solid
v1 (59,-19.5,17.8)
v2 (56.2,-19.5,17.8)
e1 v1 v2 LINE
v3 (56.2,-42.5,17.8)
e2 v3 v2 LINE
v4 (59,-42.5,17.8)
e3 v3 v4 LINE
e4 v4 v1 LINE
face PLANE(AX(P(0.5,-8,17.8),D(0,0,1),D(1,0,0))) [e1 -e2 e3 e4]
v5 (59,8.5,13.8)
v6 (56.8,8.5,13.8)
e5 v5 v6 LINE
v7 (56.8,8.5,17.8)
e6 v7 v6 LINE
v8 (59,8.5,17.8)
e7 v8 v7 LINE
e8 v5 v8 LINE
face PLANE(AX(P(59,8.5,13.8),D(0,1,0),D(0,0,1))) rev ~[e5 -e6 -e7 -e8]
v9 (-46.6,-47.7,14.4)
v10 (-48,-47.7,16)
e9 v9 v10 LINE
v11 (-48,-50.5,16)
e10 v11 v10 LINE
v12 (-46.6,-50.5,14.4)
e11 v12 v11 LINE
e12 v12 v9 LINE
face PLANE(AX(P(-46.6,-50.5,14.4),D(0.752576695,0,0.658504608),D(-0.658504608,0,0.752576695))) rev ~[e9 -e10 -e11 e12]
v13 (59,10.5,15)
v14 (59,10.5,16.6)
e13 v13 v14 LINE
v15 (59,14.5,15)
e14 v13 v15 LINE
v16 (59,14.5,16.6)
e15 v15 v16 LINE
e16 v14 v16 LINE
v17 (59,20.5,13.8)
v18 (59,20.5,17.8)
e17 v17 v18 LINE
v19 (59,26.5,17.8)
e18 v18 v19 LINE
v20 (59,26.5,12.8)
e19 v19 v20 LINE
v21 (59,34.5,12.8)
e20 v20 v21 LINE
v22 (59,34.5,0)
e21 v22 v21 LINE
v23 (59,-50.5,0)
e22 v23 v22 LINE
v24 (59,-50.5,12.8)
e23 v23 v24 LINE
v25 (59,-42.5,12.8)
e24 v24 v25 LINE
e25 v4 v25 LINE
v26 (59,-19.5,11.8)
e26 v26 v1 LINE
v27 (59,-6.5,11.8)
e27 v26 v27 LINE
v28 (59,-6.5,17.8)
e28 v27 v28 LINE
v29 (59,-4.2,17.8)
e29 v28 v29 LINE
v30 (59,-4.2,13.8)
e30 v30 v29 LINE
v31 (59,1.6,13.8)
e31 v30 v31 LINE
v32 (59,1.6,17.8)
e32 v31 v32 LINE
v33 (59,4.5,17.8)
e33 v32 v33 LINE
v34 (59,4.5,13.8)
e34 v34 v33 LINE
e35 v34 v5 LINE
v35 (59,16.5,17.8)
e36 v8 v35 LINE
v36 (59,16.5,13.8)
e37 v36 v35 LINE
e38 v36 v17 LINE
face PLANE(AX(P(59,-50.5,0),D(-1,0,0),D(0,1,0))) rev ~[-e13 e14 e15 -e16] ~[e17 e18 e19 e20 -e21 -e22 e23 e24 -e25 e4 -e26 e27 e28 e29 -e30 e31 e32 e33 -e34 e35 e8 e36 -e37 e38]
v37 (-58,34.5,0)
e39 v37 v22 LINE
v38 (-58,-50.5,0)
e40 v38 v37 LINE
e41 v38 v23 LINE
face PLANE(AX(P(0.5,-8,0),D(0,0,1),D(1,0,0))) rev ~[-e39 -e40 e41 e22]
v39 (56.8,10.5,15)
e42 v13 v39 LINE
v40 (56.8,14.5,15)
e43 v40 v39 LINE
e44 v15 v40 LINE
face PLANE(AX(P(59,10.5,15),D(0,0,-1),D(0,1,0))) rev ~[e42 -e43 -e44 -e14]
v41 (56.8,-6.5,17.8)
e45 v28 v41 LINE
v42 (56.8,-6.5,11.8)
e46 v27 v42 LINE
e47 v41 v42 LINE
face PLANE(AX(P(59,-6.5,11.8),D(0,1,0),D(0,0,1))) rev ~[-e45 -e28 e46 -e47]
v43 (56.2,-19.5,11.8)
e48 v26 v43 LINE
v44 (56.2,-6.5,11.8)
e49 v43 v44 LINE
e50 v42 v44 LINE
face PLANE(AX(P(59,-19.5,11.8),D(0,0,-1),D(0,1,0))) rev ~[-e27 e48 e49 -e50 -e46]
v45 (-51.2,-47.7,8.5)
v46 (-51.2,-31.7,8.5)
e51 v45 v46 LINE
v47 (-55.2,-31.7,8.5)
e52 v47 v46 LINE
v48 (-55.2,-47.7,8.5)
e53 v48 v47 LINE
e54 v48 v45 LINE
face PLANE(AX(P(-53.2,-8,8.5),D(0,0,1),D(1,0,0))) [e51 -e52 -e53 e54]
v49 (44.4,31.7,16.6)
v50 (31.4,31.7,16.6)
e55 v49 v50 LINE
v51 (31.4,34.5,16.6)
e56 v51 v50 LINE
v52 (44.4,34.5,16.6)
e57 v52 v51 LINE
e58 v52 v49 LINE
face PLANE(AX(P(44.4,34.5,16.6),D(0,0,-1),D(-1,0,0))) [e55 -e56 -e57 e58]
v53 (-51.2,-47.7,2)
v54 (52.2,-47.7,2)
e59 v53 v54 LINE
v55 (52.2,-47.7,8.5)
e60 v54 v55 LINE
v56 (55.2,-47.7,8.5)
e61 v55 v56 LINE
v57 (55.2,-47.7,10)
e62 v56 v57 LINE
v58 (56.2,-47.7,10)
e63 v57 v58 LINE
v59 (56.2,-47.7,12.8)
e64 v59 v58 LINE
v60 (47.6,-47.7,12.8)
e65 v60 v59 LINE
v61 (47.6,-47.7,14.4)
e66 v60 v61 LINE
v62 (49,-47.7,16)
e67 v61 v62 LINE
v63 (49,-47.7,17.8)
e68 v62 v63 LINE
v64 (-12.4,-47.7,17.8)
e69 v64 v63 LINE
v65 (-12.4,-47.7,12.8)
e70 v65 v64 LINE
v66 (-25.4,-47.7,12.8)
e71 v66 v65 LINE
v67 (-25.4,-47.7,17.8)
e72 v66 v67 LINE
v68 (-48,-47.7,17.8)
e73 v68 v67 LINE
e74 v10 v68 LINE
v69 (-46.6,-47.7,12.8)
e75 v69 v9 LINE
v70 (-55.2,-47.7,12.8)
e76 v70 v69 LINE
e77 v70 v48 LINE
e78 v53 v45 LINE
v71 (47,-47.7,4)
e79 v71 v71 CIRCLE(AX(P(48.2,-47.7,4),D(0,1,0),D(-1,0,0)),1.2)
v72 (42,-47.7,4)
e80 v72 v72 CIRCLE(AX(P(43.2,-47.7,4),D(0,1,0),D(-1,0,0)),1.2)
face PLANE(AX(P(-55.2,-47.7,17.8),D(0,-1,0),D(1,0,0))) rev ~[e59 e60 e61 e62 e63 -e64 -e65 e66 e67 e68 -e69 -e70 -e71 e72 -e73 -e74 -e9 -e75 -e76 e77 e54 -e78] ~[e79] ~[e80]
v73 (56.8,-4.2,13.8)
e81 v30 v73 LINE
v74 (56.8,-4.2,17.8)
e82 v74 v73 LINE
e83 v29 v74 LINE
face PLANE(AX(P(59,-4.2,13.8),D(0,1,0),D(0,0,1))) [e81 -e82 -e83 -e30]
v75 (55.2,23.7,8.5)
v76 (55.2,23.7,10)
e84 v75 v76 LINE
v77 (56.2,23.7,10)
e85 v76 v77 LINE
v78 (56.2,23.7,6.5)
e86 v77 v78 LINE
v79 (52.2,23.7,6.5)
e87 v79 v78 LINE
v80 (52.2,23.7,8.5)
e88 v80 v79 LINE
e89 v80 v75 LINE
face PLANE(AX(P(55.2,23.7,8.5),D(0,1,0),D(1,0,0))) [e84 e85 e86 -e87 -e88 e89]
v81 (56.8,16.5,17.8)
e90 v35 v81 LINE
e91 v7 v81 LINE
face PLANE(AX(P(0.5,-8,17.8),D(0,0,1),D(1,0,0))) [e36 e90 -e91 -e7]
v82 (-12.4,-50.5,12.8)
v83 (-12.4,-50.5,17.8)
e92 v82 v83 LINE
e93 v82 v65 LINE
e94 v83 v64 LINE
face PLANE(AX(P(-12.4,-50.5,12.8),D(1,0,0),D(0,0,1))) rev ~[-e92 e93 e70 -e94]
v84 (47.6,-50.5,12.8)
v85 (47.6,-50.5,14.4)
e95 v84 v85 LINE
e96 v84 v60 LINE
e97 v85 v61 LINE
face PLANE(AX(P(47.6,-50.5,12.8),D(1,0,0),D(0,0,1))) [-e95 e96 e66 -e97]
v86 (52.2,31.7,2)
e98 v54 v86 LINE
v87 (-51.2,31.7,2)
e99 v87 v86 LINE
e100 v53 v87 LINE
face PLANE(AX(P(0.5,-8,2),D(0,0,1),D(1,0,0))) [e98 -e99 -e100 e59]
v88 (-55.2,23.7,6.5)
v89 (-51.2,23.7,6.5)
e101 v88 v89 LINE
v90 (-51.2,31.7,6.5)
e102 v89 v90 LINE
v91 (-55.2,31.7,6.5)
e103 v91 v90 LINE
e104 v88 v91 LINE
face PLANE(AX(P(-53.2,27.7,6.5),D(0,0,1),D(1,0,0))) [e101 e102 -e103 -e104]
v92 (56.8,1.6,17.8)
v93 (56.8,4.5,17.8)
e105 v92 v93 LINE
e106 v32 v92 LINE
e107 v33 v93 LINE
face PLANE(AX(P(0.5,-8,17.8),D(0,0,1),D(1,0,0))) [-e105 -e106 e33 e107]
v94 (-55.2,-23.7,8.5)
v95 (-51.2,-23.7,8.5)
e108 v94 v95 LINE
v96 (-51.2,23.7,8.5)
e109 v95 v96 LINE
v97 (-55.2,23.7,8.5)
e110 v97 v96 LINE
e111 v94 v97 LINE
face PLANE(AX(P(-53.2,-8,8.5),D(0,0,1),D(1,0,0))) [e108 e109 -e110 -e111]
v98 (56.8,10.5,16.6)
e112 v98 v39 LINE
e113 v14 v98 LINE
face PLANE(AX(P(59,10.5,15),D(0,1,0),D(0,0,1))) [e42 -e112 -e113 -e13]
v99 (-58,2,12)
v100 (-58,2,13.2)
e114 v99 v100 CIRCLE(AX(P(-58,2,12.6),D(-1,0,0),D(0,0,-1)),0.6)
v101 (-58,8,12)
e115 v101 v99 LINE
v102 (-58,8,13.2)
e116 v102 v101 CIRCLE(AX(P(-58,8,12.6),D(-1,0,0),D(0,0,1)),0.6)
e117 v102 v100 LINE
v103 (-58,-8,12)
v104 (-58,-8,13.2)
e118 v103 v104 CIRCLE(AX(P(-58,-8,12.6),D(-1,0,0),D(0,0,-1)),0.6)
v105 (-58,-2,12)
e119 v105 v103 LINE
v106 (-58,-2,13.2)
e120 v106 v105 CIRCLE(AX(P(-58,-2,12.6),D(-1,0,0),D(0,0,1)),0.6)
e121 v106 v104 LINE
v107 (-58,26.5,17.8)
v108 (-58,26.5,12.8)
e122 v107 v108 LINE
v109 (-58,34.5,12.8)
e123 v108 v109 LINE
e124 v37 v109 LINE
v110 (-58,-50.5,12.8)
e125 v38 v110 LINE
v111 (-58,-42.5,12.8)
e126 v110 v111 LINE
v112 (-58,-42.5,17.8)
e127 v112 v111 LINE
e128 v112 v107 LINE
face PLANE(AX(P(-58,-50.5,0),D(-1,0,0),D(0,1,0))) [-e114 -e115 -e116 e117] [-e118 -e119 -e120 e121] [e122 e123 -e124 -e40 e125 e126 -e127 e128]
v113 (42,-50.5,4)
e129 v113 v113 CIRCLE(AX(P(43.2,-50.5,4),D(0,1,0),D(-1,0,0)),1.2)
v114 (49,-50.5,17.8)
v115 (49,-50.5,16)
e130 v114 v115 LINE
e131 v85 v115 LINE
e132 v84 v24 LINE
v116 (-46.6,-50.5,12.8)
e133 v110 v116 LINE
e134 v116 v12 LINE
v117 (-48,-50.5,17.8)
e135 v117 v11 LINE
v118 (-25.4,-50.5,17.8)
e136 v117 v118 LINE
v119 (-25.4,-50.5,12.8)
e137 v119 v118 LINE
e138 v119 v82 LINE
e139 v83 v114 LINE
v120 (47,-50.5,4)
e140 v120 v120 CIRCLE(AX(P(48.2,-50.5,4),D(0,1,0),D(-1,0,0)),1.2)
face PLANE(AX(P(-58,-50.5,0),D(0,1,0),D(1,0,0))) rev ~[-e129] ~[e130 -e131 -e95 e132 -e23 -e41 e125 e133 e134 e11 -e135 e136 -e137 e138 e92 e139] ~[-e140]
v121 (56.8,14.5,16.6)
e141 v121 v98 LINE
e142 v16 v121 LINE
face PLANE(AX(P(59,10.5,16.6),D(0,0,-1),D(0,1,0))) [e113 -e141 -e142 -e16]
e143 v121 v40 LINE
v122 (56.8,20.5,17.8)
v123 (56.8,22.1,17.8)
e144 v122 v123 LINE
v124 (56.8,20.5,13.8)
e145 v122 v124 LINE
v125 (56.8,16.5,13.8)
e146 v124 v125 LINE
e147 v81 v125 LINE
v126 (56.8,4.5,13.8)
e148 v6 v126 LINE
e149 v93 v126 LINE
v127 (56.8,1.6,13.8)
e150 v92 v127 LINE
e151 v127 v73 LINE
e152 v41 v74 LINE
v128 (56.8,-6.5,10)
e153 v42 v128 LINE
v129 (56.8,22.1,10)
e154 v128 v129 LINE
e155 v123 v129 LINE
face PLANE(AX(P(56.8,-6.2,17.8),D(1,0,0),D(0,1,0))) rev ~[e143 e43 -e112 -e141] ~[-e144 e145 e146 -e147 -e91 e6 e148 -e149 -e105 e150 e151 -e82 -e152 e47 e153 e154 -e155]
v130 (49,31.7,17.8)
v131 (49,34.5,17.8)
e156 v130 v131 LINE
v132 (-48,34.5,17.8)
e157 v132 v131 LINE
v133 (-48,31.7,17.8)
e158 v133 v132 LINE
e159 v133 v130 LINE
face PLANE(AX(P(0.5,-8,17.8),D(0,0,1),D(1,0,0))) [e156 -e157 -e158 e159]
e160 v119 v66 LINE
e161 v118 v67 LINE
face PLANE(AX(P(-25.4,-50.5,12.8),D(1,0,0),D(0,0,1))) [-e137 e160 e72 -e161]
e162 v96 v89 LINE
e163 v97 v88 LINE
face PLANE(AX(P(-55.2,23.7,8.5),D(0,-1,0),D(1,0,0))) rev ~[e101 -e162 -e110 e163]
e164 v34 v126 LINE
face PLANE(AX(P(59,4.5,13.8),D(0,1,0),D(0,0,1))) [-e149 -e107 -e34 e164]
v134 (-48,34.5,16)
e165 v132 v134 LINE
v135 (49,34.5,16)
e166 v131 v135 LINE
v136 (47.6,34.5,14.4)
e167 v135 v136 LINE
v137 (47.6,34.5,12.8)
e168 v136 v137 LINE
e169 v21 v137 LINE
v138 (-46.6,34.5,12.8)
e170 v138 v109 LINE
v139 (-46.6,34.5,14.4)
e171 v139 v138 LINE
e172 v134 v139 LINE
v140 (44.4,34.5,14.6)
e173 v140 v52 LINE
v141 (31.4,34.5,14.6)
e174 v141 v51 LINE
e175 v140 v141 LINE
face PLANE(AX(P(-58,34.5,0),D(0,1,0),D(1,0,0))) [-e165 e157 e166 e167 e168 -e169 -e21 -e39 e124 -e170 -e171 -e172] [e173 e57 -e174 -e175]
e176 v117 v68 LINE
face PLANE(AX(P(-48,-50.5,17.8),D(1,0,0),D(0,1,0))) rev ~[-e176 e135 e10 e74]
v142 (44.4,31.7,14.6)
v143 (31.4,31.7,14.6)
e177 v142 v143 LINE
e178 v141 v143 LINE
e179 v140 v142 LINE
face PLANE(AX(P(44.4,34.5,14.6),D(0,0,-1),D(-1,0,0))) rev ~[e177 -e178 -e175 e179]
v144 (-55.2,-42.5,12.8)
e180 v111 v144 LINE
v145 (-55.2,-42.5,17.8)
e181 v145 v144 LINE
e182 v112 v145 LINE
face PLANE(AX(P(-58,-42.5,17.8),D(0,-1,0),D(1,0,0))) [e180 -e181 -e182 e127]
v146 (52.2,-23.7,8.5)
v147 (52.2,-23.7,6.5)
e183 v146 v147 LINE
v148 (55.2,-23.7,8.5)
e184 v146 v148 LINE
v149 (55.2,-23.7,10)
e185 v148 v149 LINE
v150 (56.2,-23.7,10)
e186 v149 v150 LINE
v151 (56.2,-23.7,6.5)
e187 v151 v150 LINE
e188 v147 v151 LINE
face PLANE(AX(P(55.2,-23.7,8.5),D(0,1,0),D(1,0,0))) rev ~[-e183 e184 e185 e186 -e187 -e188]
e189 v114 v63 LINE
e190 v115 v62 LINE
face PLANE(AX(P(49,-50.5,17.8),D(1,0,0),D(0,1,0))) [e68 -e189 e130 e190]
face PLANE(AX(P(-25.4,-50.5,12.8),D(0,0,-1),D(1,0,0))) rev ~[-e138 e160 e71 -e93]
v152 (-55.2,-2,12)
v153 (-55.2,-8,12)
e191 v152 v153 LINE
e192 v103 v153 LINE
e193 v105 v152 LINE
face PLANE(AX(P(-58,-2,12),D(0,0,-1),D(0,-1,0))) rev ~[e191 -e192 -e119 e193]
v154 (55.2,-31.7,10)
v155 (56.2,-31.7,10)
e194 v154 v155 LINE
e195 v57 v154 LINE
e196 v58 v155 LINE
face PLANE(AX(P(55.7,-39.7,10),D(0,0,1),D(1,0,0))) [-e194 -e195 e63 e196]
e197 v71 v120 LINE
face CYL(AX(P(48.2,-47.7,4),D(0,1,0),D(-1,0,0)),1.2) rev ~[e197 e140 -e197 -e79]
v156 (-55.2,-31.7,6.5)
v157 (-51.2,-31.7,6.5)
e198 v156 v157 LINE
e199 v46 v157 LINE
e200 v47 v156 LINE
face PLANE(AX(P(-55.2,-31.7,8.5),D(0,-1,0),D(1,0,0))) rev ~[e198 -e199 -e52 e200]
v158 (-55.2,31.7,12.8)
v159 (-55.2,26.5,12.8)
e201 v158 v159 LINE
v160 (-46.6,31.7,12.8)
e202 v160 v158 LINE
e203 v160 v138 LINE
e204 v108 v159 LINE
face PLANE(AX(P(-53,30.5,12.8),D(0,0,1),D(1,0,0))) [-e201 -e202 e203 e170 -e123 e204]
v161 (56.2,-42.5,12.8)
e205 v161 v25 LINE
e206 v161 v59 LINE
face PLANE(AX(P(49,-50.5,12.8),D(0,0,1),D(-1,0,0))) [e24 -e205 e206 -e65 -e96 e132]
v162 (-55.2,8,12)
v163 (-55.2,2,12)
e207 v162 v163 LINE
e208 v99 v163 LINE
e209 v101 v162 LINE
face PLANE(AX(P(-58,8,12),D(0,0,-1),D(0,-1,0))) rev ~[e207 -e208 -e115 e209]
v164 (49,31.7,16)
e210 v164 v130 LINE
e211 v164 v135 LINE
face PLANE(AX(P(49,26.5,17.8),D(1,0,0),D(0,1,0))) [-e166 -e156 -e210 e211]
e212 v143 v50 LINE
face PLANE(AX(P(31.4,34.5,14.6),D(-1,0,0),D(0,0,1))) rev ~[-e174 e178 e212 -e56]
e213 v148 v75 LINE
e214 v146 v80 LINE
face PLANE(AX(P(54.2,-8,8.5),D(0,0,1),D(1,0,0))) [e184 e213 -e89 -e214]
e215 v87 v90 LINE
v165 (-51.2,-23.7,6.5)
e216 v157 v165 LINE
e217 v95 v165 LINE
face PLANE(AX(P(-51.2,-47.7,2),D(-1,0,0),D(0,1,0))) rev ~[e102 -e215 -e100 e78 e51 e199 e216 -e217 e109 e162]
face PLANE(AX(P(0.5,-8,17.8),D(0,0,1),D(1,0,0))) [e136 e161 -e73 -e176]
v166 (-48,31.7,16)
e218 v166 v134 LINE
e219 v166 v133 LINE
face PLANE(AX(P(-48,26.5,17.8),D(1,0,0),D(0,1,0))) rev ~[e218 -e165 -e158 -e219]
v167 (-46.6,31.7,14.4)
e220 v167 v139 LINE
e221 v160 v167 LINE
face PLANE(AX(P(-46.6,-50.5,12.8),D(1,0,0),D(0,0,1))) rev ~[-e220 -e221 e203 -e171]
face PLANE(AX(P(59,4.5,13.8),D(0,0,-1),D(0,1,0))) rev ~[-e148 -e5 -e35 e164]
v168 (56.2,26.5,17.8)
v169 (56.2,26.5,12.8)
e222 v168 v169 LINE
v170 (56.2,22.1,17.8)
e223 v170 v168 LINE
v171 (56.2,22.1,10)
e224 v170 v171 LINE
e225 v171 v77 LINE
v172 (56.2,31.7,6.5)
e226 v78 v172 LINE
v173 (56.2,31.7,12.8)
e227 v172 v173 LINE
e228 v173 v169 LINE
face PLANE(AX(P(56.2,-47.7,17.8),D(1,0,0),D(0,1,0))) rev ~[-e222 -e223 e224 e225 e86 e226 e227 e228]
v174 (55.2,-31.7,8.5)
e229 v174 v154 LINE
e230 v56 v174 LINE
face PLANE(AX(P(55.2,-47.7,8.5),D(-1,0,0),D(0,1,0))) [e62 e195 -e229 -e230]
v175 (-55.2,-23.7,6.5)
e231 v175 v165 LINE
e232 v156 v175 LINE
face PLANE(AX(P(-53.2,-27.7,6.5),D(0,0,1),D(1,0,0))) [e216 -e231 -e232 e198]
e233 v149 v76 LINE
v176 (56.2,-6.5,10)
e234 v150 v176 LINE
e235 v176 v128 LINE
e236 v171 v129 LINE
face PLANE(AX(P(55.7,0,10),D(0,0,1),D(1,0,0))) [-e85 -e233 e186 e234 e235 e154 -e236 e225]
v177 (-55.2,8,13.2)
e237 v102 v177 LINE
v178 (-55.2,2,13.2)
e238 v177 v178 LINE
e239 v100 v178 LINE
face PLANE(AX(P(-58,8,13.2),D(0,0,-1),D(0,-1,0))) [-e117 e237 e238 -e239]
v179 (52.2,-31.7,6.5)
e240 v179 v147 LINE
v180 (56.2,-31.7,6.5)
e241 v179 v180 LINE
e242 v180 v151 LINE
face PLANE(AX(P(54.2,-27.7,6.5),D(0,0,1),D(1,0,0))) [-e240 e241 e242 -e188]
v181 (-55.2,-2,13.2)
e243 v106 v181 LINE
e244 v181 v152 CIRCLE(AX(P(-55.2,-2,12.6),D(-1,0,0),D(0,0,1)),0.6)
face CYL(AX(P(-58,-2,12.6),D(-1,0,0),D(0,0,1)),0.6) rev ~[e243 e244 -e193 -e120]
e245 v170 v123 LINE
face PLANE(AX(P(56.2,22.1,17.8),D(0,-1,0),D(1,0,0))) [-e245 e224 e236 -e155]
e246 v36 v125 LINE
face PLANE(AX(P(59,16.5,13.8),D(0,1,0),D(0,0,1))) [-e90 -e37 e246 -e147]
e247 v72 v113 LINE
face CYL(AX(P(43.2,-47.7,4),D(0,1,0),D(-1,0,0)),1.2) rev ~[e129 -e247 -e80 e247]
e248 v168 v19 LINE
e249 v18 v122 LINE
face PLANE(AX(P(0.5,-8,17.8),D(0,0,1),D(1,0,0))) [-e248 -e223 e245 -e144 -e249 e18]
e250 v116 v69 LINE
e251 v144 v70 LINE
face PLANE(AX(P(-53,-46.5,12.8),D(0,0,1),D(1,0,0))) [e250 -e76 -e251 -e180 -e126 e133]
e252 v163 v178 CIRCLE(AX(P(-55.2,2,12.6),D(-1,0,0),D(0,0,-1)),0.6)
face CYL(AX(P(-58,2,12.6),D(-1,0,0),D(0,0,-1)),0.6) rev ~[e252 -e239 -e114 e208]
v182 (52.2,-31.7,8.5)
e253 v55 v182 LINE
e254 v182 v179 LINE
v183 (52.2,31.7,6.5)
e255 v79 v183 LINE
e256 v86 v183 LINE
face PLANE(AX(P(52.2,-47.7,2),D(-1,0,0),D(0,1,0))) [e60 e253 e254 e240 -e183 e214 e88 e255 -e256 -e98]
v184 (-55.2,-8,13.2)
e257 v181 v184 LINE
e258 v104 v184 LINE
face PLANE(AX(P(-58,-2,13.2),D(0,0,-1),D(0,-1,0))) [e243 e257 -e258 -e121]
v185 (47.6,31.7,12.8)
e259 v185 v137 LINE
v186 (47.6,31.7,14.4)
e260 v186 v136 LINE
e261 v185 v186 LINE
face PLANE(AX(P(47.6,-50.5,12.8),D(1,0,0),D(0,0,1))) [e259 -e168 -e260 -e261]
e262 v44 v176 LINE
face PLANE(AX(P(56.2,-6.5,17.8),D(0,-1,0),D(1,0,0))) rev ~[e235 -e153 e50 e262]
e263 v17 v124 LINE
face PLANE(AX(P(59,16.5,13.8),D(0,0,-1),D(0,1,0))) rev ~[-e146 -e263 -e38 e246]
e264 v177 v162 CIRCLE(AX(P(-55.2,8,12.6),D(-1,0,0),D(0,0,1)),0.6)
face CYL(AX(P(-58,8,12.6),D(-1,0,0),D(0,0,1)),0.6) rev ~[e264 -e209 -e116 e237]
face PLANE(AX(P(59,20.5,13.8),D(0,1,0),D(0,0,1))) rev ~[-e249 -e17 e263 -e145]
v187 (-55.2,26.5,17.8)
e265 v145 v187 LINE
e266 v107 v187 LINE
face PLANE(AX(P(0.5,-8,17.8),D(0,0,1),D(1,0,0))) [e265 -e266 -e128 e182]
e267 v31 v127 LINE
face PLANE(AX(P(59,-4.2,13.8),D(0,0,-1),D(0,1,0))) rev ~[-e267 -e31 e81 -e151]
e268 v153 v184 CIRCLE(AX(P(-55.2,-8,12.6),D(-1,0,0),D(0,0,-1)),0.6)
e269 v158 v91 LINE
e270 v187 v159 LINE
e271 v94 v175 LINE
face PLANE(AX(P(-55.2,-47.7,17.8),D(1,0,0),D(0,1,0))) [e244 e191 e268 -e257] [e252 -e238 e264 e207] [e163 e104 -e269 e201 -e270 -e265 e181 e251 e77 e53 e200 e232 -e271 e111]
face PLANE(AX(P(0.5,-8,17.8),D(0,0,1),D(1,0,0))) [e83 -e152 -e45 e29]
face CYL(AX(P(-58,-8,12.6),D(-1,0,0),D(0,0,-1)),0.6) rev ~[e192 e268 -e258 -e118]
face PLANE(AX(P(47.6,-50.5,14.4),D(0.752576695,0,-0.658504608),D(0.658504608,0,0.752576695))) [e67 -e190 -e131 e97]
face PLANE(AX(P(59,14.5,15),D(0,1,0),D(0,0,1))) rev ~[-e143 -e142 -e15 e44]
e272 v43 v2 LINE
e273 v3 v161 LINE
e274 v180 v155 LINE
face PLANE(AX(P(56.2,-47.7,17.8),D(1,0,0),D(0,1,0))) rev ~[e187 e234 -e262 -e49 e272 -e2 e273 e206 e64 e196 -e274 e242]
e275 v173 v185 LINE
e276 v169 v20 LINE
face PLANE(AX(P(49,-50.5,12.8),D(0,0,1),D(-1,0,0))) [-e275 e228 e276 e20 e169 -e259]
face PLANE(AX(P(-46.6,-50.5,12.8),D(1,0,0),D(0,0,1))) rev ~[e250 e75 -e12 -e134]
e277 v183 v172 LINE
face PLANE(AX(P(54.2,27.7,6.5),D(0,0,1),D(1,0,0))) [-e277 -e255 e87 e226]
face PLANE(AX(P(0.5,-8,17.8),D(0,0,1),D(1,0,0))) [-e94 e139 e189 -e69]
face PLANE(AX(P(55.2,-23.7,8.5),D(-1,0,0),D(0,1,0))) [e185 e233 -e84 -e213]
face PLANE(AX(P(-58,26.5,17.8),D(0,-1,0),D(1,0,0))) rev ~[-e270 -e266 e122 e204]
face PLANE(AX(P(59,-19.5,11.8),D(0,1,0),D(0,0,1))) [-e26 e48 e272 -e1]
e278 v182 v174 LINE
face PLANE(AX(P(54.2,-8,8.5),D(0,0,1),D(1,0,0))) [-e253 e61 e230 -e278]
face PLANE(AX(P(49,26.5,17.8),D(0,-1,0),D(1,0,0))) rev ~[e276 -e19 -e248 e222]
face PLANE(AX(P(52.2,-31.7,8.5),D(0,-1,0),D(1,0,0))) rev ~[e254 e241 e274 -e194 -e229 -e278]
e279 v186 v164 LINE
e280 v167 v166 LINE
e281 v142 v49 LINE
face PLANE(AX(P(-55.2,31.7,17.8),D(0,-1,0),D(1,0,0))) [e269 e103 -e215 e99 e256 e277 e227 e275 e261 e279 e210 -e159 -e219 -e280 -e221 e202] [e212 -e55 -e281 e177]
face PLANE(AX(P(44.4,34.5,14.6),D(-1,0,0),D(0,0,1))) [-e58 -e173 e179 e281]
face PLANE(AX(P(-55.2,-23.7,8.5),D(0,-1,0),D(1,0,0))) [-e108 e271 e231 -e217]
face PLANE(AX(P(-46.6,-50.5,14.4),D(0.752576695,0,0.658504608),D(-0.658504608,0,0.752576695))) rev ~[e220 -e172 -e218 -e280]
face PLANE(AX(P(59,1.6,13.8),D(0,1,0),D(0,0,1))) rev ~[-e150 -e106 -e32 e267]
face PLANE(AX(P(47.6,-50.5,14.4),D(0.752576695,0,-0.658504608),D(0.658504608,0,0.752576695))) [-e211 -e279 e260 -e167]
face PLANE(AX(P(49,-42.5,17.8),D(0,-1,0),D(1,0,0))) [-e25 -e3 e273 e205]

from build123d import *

# Parameters (mm, degrees)
SKETCH021_W     = 117
SKETCH021_H     = 85
PAD012_DEPTH    = 17.8
SKETCH025_W     = 111.4
SKETCH025_H     = 79.4
POCKET003_DEPTH = 15.8
SKETCH026_W     = 4
SKETCH026_H     = 79.4
PAD014_DEPTH    = 6.5
SKETCH027_W     = 4
SKETCH027_H     = 8
POCKET004_DEPTH = 2
SKETCH028_W     = 13
SKETCH028_H     = 6
SKETCH028_W_2   = 5.8
SKETCH028_H_2   = 4
SKETCH028_W_3   = 4
SKETCH028_H_3   = 1.6
POCKET005_DEPTH = 2.8
SKETCH029_W     = 0.6
SKETCH029_H     = 28.3
POCKET006_DEPTH = 7.8
SKETCH030_W     = 13
SKETCH030_H     = 2
POCKET007_DEPTH = 2.8
SKETCH032_R     = 1.2
POCKET009_DEPTH = 2.8
SKETCH037_W     = 10
SKETCH037_H     = 8
POCKET012_DEPTH = 5
POCKET015_DEPTH = 85.001
SKETCH056_W     = 1
SKETCH056_H     = 47.4
SKETCH056_H_2   = 16
PAD026_DEPTH    = 1.5
SKETCH057_W     = 0.6
SKETCH057_H     = 0.3
POCKET019_DEPTH = 7.8
POCKET020_DEPTH = 2.8
SKETCH059_W     = 13
SKETCH059_H     = 5
POCKET021_DEPTH = 2.8


with BuildPart() as part:
    # Sketch021 → Pad012 (new body)
    with BuildSketch(Plane.XY):
        with Locations((0.5, -8)):
            Rectangle(SKETCH021_W, SKETCH021_H)
    extrude(amount=PAD012_DEPTH)

    # Sketch025 (on Face6 of Pad012) → Pocket003 (cut)
    with BuildSketch(Plane.XY.offset(17.8)):
        with Locations((0.5, -8)):
            Rectangle(SKETCH025_W, SKETCH025_H)
    extrude(amount=-POCKET003_DEPTH, mode=Mode.SUBTRACT)

    # Sketch026 (on Face11 of Pocket003) → Pad014 (join)
    with BuildSketch(Plane.XY.offset(2)):
        with Locations((-53.2, -8)):
            Rectangle(SKETCH026_W, SKETCH026_H)
        with Locations((54.2, -8)):
            Rectangle(SKETCH026_W, SKETCH026_H)
    extrude(amount=PAD014_DEPTH)

    # Sketch027 (on Face15 of Pad014) → Pocket004 (cut)
    with BuildSketch(Plane.XY.offset(8.5)):
        with Locations((-53.2, 27.7)):
            Rectangle(SKETCH027_W, SKETCH027_H)
        with Locations((54.2, 27.7)):
            Rectangle(SKETCH027_W, SKETCH027_H)
        with Locations((-53.2, -27.7)):
            Rectangle(SKETCH027_W, SKETCH027_H)
        with Locations((54.2, -27.7)):
            Rectangle(SKETCH027_W, SKETCH027_H)
    extrude(amount=-POCKET004_DEPTH, mode=Mode.SUBTRACT)

    # Sketch028 (on Face3 of Pocket004) → Pocket005 (cut)
    with BuildSketch(Plane.YZ.offset(59)):
        with Locations((-13, 14.8)):
            Rectangle(SKETCH028_W, SKETCH028_H)
        with Locations((-1.3, 15.8)):
            Rectangle(SKETCH028_W_2, SKETCH028_H_2)
        with Locations((6.5, 15.8)):
            Rectangle(SKETCH028_W_3, SKETCH028_H_2)
        with Locations((18.5, 15.8)):
            Rectangle(SKETCH028_W_3, SKETCH028_H_2)
        with Locations((12.5, 15.8)):
            Rectangle(SKETCH028_W_3, SKETCH028_H_3)
    extrude(amount=-POCKET005_DEPTH, mode=Mode.SUBTRACT)

    # Sketch029 (on Face18 of Pocket005) → Pocket006 (cut)
    with BuildSketch(Plane.XY.offset(17.8)):
        with Locations((56.5, 7.95)):
            Rectangle(SKETCH029_W, SKETCH029_H)
    extrude(amount=-POCKET006_DEPTH, mode=Mode.SUBTRACT)

    # Sketch030 (on Face1 of Pocket006) → Pocket007 (cut)
    with BuildSketch(Plane(origin=(0, 34.5, 0), x_dir=(-1, 0, 0), z_dir=(0, 1, 0))):
        with Locations((-37.9, 15.6)):
            Rectangle(SKETCH030_W, SKETCH030_H)
    extrude(amount=-POCKET007_DEPTH, mode=Mode.SUBTRACT)

    # Sketch032 (on Face13 of Pocket007) → Pocket009 (cut)
    with BuildSketch(Plane(origin=(0, -47.7, 0), x_dir=(-1, 0, 0), z_dir=(0, 1, 0))):
        with Locations((-48.2, 4)):
            Circle(SKETCH032_R)
        with Locations((-43.2, 4)):
            Circle(SKETCH032_R)
    extrude(amount=-POCKET009_DEPTH, mode=Mode.SUBTRACT)

    # Sketch037 (on Face4 of Pocket009) → Pocket012 (cut)
    with BuildSketch(Plane.XY.offset(17.8)):
        with Locations((-53, 30.5)):
            Rectangle(SKETCH037_W, SKETCH037_H)
        with Locations((54, 30.5)):
            Rectangle(SKETCH037_W, SKETCH037_H)
        with Locations((-53, -46.5)):
            Rectangle(SKETCH037_W, SKETCH037_H)
        with Locations((54, -46.5)):
            Rectangle(SKETCH037_W, SKETCH037_H)
    extrude(amount=-POCKET012_DEPTH, mode=Mode.SUBTRACT)

    # Sketch043 (on Face14 of Pocket012) → Pocket015 (cut, through all)
    with BuildSketch(Plane.XZ.offset(50.5)):
        Polygon((-48, 12.8), (-46.6, 12.8), (-46.6, 14.4), (-48, 16), align=None)
        Polygon((49, 12.8), (47.6, 12.8), (47.6, 14.4), (49, 16), align=None)
    extrude(amount=-POCKET015_DEPTH, mode=Mode.SUBTRACT)

    # Sketch056 (on Face70 of Pocket015) → Pad026 (join)
    with BuildSketch(Plane.XY.offset(8.5)):
        with Locations((55.7, 0)):
            Rectangle(SKETCH056_W, SKETCH056_H)
        with Locations((55.7, -39.7)):
            Rectangle(SKETCH056_W, SKETCH056_H_2)
    extrude(amount=PAD026_DEPTH)

    # Sketch057 (on Face27 of Pad026) → Pocket019 (cut)
    with BuildSketch(Plane.XY.offset(17.8)):
        with Locations((56.5, -6.35)):
            Rectangle(SKETCH057_W, SKETCH057_H)
    extrude(amount=-POCKET019_DEPTH, mode=Mode.SUBTRACT)

    # Sketch058 (on Face15 of Pocket019) → Pocket020 (cut)
    with BuildSketch(Plane(origin=(-58, 0, 0), x_dir=(0, -1, 0), z_dir=(-1, 0, 0))):
        with BuildLine():
            ThreePointArc((-8, 13.2), (-8.6, 12.6), (-8, 12))
            Line((-8, 12), (-2, 12))
            ThreePointArc((-2, 12), (-1.4, 12.6), (-2, 13.2))
            Line((-8, 13.2), (-2, 13.2))
        make_face()
        with BuildLine():
            ThreePointArc((2, 13.2), (1.4, 12.6), (2, 12))
            Line((2, 12), (8, 12))
            ThreePointArc((8, 12), (8.6, 12.6), (8, 13.2))
            Line((2, 13.2), (8, 13.2))
        make_face()
    extrude(amount=-POCKET020_DEPTH, mode=Mode.SUBTRACT)

    # Sketch059 (on Face20 of Pocket020) → Pocket021 (cut)
    with BuildSketch(Plane.XZ.offset(50.5)):
        with Locations((-18.9, 15.3)):
            Rectangle(SKETCH059_W, SKETCH059_H)
    extrude(amount=-POCKET021_DEPTH, mode=Mode.SUBTRACT)


solid = part.part
